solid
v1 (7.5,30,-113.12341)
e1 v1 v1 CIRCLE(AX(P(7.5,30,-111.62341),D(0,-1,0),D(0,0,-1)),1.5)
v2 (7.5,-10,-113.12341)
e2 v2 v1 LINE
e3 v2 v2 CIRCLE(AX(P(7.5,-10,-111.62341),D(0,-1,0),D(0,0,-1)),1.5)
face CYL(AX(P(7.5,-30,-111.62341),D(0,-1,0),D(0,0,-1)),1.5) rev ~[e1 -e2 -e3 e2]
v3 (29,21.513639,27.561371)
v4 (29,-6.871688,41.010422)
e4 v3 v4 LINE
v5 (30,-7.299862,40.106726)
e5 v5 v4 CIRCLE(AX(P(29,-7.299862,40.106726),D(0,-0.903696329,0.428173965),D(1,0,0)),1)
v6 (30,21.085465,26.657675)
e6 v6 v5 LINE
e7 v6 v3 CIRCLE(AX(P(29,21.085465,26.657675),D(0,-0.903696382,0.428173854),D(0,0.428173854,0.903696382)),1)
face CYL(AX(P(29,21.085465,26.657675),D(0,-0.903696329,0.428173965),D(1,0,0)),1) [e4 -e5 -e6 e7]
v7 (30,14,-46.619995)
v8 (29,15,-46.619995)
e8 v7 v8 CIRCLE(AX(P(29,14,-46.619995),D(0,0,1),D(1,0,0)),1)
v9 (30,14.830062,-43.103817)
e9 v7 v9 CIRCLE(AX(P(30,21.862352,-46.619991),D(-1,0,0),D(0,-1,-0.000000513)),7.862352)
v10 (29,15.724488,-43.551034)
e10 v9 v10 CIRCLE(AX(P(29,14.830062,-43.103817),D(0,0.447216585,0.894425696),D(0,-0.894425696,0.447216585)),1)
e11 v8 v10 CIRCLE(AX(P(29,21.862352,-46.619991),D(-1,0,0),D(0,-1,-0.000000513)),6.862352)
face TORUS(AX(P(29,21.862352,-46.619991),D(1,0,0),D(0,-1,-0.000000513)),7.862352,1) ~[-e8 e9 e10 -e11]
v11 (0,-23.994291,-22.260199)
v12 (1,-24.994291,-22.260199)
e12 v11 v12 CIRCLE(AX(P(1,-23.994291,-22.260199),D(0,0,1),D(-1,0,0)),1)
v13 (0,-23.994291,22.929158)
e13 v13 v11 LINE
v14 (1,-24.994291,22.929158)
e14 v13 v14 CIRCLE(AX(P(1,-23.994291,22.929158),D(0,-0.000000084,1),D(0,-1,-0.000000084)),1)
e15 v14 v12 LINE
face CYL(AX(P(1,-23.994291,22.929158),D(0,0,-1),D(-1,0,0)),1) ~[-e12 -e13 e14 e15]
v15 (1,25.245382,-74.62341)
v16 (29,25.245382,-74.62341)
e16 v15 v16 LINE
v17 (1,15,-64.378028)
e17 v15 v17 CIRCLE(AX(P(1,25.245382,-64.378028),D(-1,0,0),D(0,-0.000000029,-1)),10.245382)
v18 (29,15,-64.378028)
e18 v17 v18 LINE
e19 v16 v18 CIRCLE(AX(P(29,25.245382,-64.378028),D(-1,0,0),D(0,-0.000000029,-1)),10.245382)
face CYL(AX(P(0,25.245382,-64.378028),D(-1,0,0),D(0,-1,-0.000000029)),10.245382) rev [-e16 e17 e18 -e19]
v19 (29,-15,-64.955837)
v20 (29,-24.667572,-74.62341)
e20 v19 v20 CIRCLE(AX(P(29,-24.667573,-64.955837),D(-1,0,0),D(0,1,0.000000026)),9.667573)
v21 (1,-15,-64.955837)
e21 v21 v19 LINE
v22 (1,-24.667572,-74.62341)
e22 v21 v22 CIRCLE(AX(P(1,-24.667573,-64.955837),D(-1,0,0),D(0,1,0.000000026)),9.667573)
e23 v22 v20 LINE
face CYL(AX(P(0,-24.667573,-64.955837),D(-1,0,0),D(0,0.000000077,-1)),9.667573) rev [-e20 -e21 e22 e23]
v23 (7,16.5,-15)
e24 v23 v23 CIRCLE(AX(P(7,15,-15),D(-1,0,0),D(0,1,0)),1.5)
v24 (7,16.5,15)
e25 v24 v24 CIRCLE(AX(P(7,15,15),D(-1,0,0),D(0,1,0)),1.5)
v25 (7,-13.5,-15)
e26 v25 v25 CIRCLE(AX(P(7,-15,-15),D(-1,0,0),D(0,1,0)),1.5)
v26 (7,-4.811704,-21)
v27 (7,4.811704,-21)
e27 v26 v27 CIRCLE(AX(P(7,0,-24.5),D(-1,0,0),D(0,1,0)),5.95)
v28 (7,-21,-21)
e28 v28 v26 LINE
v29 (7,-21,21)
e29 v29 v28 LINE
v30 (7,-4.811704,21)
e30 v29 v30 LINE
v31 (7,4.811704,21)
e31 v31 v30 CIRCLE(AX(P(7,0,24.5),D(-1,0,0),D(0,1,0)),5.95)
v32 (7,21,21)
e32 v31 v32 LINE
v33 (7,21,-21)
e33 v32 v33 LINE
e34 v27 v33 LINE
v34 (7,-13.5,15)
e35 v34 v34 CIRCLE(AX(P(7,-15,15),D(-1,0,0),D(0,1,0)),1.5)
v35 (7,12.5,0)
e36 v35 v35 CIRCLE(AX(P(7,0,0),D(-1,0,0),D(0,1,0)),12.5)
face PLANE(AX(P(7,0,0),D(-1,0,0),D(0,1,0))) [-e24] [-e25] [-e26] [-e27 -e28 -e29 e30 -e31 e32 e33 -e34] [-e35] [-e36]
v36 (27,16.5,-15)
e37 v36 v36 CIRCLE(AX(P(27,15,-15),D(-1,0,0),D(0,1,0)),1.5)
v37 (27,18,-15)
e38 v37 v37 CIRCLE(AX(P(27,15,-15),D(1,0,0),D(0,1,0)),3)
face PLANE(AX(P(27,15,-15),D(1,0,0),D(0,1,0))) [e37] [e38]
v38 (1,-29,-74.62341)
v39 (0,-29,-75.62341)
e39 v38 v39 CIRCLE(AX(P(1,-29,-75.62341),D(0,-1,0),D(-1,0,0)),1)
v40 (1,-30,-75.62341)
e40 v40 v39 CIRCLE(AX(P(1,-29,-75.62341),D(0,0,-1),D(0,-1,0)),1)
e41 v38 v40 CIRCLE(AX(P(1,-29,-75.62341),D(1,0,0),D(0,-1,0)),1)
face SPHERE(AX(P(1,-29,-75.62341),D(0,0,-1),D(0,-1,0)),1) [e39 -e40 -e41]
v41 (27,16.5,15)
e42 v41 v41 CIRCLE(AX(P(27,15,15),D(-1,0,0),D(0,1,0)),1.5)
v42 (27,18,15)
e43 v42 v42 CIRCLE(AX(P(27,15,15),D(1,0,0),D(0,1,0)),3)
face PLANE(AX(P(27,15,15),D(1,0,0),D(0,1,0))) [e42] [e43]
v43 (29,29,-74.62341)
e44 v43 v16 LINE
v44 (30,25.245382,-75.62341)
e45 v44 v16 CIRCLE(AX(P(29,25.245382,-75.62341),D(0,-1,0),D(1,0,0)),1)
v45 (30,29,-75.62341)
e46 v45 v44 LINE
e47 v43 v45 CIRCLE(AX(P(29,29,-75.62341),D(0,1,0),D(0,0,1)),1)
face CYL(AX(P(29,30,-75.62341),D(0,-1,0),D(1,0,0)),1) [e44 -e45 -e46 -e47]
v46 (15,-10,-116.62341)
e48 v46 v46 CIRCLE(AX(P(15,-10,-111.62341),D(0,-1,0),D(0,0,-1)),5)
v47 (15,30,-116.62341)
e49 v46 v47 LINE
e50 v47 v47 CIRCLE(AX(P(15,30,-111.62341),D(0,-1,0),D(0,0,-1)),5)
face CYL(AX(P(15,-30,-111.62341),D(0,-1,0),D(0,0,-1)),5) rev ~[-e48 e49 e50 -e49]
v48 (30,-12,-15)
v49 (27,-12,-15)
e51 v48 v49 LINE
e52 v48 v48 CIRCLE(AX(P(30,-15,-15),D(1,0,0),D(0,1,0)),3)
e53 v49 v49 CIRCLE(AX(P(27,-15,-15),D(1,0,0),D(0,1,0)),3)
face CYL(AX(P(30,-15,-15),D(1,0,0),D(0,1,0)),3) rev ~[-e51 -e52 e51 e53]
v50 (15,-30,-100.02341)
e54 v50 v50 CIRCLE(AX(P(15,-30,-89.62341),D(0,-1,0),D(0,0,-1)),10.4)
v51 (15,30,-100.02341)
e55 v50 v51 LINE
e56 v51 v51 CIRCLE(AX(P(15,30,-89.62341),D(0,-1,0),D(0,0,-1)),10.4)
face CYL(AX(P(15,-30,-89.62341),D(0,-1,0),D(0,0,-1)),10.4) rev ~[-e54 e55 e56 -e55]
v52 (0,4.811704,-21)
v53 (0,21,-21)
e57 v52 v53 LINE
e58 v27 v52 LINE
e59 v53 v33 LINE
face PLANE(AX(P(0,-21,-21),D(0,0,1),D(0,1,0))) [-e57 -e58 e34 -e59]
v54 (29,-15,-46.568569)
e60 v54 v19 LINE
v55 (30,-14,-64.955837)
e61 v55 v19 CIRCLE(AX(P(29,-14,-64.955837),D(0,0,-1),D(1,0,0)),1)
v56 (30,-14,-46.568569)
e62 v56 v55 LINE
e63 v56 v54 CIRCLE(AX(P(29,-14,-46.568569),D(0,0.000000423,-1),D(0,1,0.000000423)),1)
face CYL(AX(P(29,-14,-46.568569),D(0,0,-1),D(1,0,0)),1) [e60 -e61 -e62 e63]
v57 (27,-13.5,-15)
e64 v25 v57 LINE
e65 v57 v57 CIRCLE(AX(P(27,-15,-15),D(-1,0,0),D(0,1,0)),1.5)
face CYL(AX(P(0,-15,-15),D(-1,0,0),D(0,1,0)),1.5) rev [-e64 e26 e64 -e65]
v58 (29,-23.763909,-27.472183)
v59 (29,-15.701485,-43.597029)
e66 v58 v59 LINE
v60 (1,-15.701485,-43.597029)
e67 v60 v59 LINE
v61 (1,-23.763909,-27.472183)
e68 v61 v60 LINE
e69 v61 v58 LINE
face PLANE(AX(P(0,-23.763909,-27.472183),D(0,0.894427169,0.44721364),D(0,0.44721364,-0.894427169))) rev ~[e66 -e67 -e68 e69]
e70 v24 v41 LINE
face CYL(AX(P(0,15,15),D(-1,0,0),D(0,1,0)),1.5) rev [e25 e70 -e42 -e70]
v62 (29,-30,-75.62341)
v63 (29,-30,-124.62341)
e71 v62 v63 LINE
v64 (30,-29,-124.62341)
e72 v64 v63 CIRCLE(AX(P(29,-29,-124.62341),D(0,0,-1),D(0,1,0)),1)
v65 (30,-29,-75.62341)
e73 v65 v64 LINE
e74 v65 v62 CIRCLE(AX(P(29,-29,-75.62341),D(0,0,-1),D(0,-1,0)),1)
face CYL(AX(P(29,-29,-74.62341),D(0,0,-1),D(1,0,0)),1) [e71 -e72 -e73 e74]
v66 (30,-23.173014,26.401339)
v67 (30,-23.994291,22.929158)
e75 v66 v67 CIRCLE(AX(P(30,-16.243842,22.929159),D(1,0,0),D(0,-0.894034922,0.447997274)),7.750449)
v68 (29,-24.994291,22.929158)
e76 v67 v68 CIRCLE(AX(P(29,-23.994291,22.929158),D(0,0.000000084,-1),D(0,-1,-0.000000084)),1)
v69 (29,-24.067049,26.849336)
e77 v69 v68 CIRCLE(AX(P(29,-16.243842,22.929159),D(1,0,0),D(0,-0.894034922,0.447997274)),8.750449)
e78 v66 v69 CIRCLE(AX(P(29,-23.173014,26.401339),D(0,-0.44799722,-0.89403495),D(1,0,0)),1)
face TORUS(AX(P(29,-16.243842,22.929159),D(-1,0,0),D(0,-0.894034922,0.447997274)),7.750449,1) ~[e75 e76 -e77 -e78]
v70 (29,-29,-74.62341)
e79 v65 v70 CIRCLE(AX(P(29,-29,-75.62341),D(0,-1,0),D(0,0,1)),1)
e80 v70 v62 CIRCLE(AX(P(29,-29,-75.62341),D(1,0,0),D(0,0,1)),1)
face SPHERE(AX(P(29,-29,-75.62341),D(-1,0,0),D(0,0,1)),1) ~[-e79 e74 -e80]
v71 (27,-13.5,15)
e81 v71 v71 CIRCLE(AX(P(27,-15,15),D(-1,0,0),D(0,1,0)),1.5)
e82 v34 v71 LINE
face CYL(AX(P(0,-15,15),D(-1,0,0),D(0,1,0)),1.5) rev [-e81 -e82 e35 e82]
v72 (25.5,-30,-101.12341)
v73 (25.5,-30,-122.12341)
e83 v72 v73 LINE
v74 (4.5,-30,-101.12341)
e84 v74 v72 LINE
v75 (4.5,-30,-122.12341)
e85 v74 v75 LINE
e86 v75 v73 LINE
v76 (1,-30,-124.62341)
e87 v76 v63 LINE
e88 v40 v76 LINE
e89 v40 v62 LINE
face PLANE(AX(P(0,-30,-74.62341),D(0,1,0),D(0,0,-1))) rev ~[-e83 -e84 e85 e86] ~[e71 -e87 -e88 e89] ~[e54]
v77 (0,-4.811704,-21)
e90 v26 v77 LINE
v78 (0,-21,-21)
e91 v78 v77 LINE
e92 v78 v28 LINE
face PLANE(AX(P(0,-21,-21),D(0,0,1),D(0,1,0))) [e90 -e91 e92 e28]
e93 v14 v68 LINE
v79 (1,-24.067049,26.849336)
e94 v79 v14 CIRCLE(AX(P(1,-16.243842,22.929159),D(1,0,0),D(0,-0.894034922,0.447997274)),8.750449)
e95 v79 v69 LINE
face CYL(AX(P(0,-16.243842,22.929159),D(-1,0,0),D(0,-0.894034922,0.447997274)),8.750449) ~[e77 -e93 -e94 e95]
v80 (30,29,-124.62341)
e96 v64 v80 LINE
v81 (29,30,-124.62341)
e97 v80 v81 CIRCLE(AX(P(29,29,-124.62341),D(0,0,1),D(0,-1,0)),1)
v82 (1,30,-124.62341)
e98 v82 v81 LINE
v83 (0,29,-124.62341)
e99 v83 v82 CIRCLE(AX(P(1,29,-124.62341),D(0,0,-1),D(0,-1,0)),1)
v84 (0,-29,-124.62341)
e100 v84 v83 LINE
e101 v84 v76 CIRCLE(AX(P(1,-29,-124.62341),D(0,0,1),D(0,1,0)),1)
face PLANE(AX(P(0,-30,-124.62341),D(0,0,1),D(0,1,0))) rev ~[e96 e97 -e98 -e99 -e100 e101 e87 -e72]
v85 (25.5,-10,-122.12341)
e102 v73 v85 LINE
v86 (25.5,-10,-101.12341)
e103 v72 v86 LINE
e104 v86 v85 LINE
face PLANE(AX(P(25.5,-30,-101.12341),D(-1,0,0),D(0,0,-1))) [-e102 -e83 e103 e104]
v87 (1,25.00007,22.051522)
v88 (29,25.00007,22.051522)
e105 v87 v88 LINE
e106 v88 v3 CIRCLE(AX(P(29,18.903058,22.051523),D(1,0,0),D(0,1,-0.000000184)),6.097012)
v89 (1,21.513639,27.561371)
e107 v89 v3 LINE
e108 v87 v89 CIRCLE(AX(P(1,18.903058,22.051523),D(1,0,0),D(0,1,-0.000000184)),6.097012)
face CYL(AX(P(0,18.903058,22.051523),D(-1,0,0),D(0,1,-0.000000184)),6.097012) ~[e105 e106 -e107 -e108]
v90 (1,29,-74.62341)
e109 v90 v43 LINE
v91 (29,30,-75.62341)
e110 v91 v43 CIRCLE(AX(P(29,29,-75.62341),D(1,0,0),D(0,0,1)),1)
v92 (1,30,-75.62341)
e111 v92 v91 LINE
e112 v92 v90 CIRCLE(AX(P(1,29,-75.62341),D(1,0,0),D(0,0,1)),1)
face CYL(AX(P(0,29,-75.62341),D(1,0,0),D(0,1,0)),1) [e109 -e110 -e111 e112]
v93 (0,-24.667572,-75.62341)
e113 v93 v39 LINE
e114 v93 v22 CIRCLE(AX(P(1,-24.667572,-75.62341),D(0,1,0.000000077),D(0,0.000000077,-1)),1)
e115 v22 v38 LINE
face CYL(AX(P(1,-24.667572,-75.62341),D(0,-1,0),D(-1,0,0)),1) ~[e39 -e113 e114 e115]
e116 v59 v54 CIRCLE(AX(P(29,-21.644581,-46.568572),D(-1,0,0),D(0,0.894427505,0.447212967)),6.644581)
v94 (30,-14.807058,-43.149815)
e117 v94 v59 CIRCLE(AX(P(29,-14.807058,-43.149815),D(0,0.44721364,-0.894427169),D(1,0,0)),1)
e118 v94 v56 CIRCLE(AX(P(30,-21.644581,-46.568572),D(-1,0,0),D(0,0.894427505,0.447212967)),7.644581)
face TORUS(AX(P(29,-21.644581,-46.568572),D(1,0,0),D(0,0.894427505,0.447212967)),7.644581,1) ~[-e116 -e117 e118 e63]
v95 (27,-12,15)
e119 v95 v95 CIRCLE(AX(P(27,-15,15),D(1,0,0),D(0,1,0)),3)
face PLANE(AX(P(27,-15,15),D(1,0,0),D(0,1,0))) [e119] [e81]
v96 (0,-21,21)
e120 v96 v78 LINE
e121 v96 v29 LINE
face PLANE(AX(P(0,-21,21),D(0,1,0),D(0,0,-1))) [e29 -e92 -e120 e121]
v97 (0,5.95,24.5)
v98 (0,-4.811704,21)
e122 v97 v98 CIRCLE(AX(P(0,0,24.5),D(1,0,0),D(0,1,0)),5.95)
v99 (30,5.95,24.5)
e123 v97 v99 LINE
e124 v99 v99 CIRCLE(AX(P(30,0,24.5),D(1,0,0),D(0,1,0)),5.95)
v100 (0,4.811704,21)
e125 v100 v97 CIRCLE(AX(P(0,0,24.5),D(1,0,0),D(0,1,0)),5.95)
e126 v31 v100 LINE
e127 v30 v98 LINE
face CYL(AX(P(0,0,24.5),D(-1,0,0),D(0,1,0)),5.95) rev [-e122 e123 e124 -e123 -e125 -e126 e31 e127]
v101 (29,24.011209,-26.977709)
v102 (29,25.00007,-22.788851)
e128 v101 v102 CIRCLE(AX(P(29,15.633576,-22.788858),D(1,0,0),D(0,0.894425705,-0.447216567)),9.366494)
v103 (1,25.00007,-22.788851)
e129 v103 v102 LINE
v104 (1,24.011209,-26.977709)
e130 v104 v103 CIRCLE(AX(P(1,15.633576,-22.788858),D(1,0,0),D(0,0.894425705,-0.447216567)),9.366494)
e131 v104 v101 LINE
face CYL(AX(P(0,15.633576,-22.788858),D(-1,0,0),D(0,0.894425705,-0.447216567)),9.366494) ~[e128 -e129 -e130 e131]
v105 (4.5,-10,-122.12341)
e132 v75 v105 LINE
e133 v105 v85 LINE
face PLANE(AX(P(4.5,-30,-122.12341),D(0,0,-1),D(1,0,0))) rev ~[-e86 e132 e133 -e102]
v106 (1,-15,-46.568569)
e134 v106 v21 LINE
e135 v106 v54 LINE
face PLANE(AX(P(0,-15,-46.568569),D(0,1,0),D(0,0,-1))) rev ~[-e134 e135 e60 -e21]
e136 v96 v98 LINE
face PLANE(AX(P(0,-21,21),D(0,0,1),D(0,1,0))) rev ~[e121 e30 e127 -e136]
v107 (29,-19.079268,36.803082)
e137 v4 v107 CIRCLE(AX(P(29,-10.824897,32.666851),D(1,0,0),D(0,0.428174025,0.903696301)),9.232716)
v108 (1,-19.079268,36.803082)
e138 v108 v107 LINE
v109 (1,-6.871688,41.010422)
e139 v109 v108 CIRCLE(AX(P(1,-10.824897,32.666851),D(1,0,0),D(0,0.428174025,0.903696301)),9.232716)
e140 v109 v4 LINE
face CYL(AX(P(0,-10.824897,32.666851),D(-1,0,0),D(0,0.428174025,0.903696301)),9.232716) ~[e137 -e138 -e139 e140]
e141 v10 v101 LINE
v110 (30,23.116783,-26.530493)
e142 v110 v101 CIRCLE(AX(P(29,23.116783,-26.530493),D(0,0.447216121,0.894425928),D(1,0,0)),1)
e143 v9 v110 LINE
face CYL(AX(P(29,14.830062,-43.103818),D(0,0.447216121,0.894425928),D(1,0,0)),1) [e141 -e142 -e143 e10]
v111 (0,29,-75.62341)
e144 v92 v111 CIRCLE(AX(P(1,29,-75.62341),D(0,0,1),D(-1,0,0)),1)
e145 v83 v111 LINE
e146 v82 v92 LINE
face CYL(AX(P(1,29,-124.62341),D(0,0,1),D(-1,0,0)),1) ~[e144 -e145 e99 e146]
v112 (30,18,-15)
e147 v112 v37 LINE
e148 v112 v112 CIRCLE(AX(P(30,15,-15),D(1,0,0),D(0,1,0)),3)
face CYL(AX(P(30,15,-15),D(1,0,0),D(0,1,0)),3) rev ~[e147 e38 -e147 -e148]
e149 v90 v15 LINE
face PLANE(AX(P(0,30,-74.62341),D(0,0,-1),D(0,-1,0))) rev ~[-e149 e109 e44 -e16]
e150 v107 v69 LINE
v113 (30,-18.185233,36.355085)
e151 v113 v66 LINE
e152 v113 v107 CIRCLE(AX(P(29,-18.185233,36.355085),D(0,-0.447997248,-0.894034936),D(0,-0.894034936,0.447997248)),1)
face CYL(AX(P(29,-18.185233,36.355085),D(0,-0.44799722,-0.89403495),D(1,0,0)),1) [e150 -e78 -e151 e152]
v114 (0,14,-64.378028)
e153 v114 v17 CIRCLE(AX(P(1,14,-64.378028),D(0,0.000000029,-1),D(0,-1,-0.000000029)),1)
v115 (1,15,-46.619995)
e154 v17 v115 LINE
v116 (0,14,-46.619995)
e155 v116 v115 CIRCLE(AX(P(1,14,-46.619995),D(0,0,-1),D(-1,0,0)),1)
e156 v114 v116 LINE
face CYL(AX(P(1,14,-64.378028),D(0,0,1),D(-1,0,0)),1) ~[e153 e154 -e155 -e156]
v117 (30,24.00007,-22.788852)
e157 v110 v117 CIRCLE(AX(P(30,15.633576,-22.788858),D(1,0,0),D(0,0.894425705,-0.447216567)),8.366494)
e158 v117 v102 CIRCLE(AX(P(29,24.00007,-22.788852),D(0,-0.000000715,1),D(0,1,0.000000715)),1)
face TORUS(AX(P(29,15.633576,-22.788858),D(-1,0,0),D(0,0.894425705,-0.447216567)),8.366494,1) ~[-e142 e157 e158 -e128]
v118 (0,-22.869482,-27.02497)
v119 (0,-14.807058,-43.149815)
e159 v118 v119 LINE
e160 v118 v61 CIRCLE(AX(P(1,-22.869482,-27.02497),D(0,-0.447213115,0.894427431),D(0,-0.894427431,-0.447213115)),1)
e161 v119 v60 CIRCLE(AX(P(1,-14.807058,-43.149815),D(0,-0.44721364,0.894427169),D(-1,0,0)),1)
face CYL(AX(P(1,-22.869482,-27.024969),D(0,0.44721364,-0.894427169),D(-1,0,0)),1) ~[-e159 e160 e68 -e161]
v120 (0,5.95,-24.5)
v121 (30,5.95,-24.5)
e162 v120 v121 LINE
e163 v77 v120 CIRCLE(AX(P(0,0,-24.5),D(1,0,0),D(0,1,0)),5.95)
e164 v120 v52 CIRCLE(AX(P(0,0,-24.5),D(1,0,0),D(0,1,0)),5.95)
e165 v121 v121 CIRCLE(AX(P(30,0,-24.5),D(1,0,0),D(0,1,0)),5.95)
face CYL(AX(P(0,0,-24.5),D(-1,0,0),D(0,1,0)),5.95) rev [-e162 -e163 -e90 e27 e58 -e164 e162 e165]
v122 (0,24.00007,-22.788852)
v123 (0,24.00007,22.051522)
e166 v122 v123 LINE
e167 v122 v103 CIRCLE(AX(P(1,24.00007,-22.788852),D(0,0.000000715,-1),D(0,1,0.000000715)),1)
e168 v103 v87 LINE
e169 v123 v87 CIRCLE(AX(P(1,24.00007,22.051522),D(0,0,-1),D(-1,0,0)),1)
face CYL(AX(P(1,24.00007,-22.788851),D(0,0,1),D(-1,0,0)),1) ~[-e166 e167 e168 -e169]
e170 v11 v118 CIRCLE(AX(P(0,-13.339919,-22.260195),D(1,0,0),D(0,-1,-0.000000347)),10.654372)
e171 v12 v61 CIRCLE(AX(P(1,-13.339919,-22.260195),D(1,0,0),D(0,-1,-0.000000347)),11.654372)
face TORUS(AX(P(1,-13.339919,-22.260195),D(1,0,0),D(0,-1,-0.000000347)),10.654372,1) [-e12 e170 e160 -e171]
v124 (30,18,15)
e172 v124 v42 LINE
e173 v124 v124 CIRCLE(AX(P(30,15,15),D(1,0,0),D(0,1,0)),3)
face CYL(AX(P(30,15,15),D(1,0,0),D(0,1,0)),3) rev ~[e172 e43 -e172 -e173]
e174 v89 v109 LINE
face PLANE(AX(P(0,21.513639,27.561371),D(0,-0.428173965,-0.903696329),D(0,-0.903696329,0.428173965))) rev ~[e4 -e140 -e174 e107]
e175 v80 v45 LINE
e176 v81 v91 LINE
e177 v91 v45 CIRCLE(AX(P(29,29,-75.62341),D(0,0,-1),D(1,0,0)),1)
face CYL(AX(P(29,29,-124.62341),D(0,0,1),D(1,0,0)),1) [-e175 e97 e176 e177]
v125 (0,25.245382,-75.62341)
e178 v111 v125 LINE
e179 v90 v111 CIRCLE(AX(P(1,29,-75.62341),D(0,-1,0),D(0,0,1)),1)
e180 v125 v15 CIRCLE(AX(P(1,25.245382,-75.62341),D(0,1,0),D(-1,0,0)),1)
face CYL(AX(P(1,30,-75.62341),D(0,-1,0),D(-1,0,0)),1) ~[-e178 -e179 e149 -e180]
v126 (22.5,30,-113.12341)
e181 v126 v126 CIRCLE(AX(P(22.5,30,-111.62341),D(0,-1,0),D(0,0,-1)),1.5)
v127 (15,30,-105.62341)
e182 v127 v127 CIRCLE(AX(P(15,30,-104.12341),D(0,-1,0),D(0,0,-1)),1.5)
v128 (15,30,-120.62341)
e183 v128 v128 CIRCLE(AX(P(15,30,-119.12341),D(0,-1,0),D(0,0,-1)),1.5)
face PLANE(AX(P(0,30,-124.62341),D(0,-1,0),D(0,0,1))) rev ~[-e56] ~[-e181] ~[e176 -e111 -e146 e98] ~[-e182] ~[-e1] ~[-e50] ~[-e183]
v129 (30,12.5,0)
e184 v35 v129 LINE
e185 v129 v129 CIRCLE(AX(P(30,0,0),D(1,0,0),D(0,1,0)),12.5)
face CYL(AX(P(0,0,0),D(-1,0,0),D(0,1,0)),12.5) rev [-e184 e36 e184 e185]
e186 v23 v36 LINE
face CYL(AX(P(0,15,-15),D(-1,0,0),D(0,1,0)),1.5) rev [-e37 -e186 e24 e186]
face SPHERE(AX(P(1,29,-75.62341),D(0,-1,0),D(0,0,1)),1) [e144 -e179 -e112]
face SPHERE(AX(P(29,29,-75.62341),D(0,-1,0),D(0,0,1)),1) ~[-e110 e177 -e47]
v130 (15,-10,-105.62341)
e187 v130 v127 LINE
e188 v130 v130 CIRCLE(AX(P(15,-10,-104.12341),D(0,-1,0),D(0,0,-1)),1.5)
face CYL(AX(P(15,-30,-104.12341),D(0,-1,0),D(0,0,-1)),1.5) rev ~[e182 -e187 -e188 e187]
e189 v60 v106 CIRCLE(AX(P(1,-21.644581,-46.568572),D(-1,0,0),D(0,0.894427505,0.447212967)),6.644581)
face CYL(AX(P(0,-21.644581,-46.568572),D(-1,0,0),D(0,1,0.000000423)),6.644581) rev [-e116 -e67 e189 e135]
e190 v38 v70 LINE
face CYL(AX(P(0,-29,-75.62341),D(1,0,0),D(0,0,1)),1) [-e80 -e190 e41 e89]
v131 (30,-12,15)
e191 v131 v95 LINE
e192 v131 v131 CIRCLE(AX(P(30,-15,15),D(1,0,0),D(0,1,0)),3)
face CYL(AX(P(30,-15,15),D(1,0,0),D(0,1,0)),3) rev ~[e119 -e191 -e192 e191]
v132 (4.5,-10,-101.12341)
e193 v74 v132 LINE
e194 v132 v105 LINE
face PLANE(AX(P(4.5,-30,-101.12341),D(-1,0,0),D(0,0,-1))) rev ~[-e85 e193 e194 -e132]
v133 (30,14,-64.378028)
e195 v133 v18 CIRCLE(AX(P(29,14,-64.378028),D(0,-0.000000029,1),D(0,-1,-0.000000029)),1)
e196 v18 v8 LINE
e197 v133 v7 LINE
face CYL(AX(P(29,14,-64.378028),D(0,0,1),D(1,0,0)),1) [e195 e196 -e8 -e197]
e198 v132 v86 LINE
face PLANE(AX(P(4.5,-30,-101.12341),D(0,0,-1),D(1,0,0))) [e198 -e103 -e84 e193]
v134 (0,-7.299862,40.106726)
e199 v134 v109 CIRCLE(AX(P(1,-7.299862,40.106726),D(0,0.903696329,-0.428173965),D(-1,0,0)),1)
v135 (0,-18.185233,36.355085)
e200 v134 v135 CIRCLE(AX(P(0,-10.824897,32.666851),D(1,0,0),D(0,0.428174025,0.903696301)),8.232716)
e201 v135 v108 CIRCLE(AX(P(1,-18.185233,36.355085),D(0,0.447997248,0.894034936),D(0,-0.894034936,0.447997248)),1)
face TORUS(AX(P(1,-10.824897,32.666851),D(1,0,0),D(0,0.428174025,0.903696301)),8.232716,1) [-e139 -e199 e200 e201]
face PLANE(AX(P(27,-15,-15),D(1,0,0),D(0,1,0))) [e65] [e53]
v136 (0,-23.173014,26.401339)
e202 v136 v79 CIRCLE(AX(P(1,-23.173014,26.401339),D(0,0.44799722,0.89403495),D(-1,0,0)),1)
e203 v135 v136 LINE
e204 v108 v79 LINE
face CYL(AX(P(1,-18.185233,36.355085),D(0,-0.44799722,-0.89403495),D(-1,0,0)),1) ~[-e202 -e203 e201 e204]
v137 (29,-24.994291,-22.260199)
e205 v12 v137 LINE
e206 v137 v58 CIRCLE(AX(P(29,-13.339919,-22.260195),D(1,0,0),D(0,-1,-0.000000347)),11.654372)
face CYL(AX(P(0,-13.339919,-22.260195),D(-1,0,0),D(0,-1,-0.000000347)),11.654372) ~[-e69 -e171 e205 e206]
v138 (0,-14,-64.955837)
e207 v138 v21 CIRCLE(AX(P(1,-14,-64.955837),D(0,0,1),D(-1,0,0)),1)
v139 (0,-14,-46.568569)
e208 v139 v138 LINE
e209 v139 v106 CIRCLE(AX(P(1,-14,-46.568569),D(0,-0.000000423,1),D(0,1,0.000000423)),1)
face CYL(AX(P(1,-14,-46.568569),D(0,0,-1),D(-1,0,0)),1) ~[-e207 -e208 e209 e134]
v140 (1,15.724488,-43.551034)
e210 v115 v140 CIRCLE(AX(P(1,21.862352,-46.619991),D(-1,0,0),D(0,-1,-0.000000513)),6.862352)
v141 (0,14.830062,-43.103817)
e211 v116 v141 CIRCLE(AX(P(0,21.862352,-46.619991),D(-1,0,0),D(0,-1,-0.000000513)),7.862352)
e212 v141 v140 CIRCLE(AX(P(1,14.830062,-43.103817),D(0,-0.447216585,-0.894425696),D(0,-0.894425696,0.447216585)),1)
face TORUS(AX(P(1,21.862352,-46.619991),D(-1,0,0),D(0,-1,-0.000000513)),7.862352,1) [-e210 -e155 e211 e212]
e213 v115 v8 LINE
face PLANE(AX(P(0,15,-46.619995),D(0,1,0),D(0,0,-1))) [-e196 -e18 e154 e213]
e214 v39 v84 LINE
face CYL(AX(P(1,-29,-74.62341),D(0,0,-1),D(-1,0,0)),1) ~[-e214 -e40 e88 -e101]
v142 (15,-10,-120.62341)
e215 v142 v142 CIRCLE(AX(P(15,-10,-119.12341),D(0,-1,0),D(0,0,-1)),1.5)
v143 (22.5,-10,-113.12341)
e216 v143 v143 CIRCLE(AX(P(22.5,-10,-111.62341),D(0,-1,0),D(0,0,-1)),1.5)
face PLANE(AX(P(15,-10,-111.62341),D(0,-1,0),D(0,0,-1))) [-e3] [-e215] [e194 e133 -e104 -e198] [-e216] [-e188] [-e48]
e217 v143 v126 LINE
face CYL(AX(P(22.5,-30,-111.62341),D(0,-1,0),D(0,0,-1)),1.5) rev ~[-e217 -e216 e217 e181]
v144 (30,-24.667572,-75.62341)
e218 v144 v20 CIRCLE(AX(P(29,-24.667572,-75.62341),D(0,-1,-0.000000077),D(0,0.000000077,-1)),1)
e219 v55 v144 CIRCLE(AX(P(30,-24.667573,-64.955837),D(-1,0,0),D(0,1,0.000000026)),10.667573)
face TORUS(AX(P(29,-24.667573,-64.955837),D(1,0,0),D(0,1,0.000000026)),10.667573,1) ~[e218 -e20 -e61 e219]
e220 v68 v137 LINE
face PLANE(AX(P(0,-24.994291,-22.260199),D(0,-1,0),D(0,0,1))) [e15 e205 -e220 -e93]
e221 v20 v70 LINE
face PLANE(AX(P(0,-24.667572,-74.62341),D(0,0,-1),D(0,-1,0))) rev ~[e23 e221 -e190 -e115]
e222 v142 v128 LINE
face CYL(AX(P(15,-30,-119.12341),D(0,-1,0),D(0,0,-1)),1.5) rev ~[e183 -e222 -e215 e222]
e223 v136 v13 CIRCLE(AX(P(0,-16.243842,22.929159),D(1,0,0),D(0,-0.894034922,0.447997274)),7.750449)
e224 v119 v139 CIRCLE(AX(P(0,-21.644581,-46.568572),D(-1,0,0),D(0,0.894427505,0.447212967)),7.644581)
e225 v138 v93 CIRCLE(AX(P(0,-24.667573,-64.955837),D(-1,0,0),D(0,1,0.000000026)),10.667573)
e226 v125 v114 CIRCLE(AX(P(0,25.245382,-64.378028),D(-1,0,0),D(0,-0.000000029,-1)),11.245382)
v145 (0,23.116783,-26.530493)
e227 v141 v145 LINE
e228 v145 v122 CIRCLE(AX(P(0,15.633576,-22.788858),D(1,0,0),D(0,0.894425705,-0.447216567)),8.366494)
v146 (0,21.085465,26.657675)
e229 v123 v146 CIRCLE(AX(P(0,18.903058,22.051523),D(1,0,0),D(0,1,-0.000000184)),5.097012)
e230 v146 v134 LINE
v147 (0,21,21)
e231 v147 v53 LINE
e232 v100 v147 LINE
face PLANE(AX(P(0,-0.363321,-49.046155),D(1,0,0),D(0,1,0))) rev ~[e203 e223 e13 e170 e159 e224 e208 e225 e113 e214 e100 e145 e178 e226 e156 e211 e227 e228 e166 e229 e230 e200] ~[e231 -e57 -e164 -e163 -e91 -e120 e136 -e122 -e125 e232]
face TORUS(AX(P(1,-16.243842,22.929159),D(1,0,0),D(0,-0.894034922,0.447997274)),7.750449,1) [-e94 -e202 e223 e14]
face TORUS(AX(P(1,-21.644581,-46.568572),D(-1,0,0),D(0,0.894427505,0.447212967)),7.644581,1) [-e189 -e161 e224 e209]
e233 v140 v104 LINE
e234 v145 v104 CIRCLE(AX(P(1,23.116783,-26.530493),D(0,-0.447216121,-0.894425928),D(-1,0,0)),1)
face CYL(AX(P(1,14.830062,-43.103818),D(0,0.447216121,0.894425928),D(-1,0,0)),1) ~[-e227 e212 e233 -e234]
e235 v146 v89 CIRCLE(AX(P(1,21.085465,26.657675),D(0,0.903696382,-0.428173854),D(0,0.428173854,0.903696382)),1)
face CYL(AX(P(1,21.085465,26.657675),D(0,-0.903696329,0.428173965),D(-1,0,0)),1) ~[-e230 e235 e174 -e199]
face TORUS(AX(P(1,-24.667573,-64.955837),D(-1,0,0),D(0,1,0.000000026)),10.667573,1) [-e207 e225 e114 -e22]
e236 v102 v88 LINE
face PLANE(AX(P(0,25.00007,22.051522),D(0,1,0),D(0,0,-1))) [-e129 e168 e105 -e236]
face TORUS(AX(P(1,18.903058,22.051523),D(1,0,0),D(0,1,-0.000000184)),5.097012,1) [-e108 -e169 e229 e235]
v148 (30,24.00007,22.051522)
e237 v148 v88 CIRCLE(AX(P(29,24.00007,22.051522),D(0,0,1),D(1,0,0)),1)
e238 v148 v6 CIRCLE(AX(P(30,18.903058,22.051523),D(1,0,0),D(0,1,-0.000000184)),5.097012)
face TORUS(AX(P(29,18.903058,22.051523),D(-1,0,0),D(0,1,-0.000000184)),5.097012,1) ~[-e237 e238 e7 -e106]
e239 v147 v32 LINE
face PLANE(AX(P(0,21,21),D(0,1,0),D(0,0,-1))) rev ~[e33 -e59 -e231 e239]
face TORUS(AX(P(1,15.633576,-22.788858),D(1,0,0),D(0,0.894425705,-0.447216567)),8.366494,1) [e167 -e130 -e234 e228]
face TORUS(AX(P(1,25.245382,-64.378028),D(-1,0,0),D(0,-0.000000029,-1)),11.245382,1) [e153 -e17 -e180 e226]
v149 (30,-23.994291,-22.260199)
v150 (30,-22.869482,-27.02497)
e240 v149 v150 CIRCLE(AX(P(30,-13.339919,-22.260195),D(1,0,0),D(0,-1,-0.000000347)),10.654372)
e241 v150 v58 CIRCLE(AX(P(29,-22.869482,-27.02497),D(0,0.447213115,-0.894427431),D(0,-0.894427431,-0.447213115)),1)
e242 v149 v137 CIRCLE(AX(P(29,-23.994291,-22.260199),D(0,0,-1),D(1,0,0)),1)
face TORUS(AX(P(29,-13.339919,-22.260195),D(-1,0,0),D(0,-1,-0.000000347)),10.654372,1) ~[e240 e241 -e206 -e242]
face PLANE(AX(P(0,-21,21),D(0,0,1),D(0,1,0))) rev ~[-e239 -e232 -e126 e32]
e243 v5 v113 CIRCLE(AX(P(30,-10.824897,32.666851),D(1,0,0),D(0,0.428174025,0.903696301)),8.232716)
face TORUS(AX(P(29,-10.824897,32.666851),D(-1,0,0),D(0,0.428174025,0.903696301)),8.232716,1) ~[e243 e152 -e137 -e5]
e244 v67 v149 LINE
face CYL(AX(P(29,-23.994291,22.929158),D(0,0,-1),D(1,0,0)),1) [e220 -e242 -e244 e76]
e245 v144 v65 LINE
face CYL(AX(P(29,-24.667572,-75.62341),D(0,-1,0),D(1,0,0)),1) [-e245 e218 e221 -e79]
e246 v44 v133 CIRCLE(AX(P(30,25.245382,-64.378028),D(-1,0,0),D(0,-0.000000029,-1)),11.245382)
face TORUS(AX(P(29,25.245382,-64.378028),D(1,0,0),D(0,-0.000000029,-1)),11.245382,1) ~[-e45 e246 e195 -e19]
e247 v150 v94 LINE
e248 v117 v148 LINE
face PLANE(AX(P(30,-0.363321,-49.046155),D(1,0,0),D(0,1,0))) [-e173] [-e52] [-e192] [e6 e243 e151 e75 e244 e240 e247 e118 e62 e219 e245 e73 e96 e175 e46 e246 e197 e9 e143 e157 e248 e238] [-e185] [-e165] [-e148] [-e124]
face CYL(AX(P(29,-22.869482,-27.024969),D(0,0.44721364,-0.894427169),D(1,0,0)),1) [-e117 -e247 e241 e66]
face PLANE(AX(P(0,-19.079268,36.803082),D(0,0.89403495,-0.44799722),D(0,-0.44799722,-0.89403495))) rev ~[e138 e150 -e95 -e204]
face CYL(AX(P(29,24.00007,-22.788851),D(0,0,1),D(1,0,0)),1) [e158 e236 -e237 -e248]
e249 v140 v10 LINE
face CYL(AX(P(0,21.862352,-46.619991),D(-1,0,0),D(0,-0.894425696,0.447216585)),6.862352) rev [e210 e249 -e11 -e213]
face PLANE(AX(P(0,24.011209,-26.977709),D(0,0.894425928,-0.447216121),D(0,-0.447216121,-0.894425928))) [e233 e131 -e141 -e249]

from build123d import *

# Parameters (mm, degrees)
SKETCH_R        = 5.95
SKETCH_R_2      = 12.5
SKETCH_R_3      = 1.5
PAD_DEPTH       = 30
SKETCH001_W     = 42
SKETCH001_H     = 42
POCKET_DEPTH    = 7
SKETCH002_R     = 3
POCKET001_DEPTH = 3
SKETCH003_R     = 10.4
SKETCH003_R_2   = 5
SKETCH003_R_3   = 1.5
POCKET002_DEPTH = 60
SKETCH004_W     = 21
SKETCH004_H     = 21
POCKET003_DEPTH = 20
FILLET_R        = 1


with BuildPart() as part:
    # Sketch → Pad (new body)
    with BuildSketch(Plane.YZ):
        with BuildLine():
            Line((-15, -46.568569), (-15, -64.955837))
            ThreePointArc((-24.667572, -74.62341), (-17.831566, -71.791843), (-15, -64.955837))
            Line((-24.667572, -74.62341), (-30, -74.62341))
            Line((-30, -74.62341), (-30, -124.62341))
            Line((-30, -124.62341), (30, -124.62341))
            Line((30, -124.62341), (30, -74.62341))
            Line((30, -74.62341), (25.245382, -74.62341))
            ThreePointArc((15, -64.378028), (18.000803, -71.622607), (25.245382, -74.62341))
            Line((15, -46.619995), (15, -64.378028))
            ThreePointArc((15.724488, -43.551034), (15.183577, -45.043337), (15, -46.619995))
            Line((24.011209, -26.977709), (15.724488, -43.551034))
            ThreePointArc((24.011209, -26.977709), (24.749504, -24.940849), (25.00007, -22.788851))
            Line((25.00007, 22.051522), (25.00007, -22.788851))
            ThreePointArc((25.00007, 22.051522), (24.055257, 25.311646), (21.513639, 27.561371))
            Line((21.513639, 27.561371), (-6.871688, 41.010422))
            ThreePointArc((-6.871688, 41.010422), (-13.83329, 41.395689), (-19.079268, 36.803082))
            Line((-19.079268, 36.803082), (-24.067049, 26.849336))
            ThreePointArc((-24.067049, 26.849336), (-24.759326, 24.943331), (-24.994291, 22.929158))
            Line((-24.994291, -22.260199), (-24.994291, 22.929158))
            ThreePointArc((-24.994291, -22.260199), (-24.682525, -24.93782), (-23.763909, -27.472183))
            Line((-23.763909, -27.472183), (-15.701485, -43.597029))
            ThreePointArc((-15, -46.568569), (-15.177749, -45.041961), (-15.701485, -43.597029))
        make_face()
        with Locations((0, 24.5)):
            Circle(SKETCH_R, mode=Mode.SUBTRACT)
        with Locations((0, -24.5)):
            Circle(SKETCH_R, mode=Mode.SUBTRACT)
        Circle(SKETCH_R_2, mode=Mode.SUBTRACT)
        with Locations((-15, 15)):
            Circle(SKETCH_R_3, mode=Mode.SUBTRACT)
        with Locations((-15, -15)):
            Circle(SKETCH_R_3, mode=Mode.SUBTRACT)
        with Locations((15, -15)):
            Circle(SKETCH_R_3, mode=Mode.SUBTRACT)
        with Locations((15, 15)):
            Circle(SKETCH_R_3, mode=Mode.SUBTRACT)
    extrude(amount=PAD_DEPTH)

    # Sketch001 (on Face30 of Pad) → Pocket (cut)
    with BuildSketch(Plane(origin=(0, 0, 0), x_dir=(0, 1, 0), z_dir=(-1, 0, 0))):
        Rectangle(SKETCH001_W, SKETCH001_H)
    extrude(amount=-POCKET_DEPTH, mode=Mode.SUBTRACT)

    # Sketch002 (on Face5 of Pocket) → Pocket001 (cut)
    with BuildSketch(Plane.YZ.offset(30)):
        with Locations((-15, 15)):
            Circle(SKETCH002_R)
        with Locations((15, 15)):
            Circle(SKETCH002_R)
        with Locations((-15, -15)):
            Circle(SKETCH002_R)
        with Locations((15, -15)):
            Circle(SKETCH002_R)
    extrude(amount=-POCKET001_DEPTH, mode=Mode.SUBTRACT)

    # Sketch003 (on Face9 of Pocket001) → Pocket002 (cut)
    with BuildSketch(Plane(origin=(0, -30, 0), x_dir=(0, 0, -1), z_dir=(0, -1, 0))):
        with Locations((89.62341, 15)):
            Circle(SKETCH003_R)
        with Locations((111.62341, 15)):
            Circle(SKETCH003_R_2)
        with Locations((111.62341, 22.5)):
            Circle(SKETCH003_R_3)
        with Locations((104.12341, 15)):
            Circle(SKETCH003_R_3)
        with Locations((119.12341, 15)):
            Circle(SKETCH003_R_3)
        with Locations((111.62341, 7.5)):
            Circle(SKETCH003_R_3)
    extrude(amount=-POCKET002_DEPTH, mode=Mode.SUBTRACT)

    # Sketch004 (on Face9 of Pocket002) → Pocket003 (cut)
    with BuildSketch(Plane(origin=(0, -30, 0), x_dir=(0, 0, -1), z_dir=(0, -1, 0))):
        with Locations((111.62341, 15)):
            Rectangle(SKETCH004_W, SKETCH004_H)
    extrude(amount=-POCKET003_DEPTH, mode=Mode.SUBTRACT)

    # Fillet
    fillet_edges = [part.edges().sort_by_distance(p)[0] for p in [
        (0, -30, -99.62341),
        (15, -24.667572, -74.62341),
        (15, -30, -74.62341),
        (0, -27.333786, -74.62341),
        (30, -27.333786, -74.62341),
        (30, -30, -99.62341),
        (15, 30, -74.62341),
        (0, 30, -99.62341),
        (30, 30, -99.62341),
    ]]
    fillet(fillet_edges, radius=FILLET_R)


solid = part.part
